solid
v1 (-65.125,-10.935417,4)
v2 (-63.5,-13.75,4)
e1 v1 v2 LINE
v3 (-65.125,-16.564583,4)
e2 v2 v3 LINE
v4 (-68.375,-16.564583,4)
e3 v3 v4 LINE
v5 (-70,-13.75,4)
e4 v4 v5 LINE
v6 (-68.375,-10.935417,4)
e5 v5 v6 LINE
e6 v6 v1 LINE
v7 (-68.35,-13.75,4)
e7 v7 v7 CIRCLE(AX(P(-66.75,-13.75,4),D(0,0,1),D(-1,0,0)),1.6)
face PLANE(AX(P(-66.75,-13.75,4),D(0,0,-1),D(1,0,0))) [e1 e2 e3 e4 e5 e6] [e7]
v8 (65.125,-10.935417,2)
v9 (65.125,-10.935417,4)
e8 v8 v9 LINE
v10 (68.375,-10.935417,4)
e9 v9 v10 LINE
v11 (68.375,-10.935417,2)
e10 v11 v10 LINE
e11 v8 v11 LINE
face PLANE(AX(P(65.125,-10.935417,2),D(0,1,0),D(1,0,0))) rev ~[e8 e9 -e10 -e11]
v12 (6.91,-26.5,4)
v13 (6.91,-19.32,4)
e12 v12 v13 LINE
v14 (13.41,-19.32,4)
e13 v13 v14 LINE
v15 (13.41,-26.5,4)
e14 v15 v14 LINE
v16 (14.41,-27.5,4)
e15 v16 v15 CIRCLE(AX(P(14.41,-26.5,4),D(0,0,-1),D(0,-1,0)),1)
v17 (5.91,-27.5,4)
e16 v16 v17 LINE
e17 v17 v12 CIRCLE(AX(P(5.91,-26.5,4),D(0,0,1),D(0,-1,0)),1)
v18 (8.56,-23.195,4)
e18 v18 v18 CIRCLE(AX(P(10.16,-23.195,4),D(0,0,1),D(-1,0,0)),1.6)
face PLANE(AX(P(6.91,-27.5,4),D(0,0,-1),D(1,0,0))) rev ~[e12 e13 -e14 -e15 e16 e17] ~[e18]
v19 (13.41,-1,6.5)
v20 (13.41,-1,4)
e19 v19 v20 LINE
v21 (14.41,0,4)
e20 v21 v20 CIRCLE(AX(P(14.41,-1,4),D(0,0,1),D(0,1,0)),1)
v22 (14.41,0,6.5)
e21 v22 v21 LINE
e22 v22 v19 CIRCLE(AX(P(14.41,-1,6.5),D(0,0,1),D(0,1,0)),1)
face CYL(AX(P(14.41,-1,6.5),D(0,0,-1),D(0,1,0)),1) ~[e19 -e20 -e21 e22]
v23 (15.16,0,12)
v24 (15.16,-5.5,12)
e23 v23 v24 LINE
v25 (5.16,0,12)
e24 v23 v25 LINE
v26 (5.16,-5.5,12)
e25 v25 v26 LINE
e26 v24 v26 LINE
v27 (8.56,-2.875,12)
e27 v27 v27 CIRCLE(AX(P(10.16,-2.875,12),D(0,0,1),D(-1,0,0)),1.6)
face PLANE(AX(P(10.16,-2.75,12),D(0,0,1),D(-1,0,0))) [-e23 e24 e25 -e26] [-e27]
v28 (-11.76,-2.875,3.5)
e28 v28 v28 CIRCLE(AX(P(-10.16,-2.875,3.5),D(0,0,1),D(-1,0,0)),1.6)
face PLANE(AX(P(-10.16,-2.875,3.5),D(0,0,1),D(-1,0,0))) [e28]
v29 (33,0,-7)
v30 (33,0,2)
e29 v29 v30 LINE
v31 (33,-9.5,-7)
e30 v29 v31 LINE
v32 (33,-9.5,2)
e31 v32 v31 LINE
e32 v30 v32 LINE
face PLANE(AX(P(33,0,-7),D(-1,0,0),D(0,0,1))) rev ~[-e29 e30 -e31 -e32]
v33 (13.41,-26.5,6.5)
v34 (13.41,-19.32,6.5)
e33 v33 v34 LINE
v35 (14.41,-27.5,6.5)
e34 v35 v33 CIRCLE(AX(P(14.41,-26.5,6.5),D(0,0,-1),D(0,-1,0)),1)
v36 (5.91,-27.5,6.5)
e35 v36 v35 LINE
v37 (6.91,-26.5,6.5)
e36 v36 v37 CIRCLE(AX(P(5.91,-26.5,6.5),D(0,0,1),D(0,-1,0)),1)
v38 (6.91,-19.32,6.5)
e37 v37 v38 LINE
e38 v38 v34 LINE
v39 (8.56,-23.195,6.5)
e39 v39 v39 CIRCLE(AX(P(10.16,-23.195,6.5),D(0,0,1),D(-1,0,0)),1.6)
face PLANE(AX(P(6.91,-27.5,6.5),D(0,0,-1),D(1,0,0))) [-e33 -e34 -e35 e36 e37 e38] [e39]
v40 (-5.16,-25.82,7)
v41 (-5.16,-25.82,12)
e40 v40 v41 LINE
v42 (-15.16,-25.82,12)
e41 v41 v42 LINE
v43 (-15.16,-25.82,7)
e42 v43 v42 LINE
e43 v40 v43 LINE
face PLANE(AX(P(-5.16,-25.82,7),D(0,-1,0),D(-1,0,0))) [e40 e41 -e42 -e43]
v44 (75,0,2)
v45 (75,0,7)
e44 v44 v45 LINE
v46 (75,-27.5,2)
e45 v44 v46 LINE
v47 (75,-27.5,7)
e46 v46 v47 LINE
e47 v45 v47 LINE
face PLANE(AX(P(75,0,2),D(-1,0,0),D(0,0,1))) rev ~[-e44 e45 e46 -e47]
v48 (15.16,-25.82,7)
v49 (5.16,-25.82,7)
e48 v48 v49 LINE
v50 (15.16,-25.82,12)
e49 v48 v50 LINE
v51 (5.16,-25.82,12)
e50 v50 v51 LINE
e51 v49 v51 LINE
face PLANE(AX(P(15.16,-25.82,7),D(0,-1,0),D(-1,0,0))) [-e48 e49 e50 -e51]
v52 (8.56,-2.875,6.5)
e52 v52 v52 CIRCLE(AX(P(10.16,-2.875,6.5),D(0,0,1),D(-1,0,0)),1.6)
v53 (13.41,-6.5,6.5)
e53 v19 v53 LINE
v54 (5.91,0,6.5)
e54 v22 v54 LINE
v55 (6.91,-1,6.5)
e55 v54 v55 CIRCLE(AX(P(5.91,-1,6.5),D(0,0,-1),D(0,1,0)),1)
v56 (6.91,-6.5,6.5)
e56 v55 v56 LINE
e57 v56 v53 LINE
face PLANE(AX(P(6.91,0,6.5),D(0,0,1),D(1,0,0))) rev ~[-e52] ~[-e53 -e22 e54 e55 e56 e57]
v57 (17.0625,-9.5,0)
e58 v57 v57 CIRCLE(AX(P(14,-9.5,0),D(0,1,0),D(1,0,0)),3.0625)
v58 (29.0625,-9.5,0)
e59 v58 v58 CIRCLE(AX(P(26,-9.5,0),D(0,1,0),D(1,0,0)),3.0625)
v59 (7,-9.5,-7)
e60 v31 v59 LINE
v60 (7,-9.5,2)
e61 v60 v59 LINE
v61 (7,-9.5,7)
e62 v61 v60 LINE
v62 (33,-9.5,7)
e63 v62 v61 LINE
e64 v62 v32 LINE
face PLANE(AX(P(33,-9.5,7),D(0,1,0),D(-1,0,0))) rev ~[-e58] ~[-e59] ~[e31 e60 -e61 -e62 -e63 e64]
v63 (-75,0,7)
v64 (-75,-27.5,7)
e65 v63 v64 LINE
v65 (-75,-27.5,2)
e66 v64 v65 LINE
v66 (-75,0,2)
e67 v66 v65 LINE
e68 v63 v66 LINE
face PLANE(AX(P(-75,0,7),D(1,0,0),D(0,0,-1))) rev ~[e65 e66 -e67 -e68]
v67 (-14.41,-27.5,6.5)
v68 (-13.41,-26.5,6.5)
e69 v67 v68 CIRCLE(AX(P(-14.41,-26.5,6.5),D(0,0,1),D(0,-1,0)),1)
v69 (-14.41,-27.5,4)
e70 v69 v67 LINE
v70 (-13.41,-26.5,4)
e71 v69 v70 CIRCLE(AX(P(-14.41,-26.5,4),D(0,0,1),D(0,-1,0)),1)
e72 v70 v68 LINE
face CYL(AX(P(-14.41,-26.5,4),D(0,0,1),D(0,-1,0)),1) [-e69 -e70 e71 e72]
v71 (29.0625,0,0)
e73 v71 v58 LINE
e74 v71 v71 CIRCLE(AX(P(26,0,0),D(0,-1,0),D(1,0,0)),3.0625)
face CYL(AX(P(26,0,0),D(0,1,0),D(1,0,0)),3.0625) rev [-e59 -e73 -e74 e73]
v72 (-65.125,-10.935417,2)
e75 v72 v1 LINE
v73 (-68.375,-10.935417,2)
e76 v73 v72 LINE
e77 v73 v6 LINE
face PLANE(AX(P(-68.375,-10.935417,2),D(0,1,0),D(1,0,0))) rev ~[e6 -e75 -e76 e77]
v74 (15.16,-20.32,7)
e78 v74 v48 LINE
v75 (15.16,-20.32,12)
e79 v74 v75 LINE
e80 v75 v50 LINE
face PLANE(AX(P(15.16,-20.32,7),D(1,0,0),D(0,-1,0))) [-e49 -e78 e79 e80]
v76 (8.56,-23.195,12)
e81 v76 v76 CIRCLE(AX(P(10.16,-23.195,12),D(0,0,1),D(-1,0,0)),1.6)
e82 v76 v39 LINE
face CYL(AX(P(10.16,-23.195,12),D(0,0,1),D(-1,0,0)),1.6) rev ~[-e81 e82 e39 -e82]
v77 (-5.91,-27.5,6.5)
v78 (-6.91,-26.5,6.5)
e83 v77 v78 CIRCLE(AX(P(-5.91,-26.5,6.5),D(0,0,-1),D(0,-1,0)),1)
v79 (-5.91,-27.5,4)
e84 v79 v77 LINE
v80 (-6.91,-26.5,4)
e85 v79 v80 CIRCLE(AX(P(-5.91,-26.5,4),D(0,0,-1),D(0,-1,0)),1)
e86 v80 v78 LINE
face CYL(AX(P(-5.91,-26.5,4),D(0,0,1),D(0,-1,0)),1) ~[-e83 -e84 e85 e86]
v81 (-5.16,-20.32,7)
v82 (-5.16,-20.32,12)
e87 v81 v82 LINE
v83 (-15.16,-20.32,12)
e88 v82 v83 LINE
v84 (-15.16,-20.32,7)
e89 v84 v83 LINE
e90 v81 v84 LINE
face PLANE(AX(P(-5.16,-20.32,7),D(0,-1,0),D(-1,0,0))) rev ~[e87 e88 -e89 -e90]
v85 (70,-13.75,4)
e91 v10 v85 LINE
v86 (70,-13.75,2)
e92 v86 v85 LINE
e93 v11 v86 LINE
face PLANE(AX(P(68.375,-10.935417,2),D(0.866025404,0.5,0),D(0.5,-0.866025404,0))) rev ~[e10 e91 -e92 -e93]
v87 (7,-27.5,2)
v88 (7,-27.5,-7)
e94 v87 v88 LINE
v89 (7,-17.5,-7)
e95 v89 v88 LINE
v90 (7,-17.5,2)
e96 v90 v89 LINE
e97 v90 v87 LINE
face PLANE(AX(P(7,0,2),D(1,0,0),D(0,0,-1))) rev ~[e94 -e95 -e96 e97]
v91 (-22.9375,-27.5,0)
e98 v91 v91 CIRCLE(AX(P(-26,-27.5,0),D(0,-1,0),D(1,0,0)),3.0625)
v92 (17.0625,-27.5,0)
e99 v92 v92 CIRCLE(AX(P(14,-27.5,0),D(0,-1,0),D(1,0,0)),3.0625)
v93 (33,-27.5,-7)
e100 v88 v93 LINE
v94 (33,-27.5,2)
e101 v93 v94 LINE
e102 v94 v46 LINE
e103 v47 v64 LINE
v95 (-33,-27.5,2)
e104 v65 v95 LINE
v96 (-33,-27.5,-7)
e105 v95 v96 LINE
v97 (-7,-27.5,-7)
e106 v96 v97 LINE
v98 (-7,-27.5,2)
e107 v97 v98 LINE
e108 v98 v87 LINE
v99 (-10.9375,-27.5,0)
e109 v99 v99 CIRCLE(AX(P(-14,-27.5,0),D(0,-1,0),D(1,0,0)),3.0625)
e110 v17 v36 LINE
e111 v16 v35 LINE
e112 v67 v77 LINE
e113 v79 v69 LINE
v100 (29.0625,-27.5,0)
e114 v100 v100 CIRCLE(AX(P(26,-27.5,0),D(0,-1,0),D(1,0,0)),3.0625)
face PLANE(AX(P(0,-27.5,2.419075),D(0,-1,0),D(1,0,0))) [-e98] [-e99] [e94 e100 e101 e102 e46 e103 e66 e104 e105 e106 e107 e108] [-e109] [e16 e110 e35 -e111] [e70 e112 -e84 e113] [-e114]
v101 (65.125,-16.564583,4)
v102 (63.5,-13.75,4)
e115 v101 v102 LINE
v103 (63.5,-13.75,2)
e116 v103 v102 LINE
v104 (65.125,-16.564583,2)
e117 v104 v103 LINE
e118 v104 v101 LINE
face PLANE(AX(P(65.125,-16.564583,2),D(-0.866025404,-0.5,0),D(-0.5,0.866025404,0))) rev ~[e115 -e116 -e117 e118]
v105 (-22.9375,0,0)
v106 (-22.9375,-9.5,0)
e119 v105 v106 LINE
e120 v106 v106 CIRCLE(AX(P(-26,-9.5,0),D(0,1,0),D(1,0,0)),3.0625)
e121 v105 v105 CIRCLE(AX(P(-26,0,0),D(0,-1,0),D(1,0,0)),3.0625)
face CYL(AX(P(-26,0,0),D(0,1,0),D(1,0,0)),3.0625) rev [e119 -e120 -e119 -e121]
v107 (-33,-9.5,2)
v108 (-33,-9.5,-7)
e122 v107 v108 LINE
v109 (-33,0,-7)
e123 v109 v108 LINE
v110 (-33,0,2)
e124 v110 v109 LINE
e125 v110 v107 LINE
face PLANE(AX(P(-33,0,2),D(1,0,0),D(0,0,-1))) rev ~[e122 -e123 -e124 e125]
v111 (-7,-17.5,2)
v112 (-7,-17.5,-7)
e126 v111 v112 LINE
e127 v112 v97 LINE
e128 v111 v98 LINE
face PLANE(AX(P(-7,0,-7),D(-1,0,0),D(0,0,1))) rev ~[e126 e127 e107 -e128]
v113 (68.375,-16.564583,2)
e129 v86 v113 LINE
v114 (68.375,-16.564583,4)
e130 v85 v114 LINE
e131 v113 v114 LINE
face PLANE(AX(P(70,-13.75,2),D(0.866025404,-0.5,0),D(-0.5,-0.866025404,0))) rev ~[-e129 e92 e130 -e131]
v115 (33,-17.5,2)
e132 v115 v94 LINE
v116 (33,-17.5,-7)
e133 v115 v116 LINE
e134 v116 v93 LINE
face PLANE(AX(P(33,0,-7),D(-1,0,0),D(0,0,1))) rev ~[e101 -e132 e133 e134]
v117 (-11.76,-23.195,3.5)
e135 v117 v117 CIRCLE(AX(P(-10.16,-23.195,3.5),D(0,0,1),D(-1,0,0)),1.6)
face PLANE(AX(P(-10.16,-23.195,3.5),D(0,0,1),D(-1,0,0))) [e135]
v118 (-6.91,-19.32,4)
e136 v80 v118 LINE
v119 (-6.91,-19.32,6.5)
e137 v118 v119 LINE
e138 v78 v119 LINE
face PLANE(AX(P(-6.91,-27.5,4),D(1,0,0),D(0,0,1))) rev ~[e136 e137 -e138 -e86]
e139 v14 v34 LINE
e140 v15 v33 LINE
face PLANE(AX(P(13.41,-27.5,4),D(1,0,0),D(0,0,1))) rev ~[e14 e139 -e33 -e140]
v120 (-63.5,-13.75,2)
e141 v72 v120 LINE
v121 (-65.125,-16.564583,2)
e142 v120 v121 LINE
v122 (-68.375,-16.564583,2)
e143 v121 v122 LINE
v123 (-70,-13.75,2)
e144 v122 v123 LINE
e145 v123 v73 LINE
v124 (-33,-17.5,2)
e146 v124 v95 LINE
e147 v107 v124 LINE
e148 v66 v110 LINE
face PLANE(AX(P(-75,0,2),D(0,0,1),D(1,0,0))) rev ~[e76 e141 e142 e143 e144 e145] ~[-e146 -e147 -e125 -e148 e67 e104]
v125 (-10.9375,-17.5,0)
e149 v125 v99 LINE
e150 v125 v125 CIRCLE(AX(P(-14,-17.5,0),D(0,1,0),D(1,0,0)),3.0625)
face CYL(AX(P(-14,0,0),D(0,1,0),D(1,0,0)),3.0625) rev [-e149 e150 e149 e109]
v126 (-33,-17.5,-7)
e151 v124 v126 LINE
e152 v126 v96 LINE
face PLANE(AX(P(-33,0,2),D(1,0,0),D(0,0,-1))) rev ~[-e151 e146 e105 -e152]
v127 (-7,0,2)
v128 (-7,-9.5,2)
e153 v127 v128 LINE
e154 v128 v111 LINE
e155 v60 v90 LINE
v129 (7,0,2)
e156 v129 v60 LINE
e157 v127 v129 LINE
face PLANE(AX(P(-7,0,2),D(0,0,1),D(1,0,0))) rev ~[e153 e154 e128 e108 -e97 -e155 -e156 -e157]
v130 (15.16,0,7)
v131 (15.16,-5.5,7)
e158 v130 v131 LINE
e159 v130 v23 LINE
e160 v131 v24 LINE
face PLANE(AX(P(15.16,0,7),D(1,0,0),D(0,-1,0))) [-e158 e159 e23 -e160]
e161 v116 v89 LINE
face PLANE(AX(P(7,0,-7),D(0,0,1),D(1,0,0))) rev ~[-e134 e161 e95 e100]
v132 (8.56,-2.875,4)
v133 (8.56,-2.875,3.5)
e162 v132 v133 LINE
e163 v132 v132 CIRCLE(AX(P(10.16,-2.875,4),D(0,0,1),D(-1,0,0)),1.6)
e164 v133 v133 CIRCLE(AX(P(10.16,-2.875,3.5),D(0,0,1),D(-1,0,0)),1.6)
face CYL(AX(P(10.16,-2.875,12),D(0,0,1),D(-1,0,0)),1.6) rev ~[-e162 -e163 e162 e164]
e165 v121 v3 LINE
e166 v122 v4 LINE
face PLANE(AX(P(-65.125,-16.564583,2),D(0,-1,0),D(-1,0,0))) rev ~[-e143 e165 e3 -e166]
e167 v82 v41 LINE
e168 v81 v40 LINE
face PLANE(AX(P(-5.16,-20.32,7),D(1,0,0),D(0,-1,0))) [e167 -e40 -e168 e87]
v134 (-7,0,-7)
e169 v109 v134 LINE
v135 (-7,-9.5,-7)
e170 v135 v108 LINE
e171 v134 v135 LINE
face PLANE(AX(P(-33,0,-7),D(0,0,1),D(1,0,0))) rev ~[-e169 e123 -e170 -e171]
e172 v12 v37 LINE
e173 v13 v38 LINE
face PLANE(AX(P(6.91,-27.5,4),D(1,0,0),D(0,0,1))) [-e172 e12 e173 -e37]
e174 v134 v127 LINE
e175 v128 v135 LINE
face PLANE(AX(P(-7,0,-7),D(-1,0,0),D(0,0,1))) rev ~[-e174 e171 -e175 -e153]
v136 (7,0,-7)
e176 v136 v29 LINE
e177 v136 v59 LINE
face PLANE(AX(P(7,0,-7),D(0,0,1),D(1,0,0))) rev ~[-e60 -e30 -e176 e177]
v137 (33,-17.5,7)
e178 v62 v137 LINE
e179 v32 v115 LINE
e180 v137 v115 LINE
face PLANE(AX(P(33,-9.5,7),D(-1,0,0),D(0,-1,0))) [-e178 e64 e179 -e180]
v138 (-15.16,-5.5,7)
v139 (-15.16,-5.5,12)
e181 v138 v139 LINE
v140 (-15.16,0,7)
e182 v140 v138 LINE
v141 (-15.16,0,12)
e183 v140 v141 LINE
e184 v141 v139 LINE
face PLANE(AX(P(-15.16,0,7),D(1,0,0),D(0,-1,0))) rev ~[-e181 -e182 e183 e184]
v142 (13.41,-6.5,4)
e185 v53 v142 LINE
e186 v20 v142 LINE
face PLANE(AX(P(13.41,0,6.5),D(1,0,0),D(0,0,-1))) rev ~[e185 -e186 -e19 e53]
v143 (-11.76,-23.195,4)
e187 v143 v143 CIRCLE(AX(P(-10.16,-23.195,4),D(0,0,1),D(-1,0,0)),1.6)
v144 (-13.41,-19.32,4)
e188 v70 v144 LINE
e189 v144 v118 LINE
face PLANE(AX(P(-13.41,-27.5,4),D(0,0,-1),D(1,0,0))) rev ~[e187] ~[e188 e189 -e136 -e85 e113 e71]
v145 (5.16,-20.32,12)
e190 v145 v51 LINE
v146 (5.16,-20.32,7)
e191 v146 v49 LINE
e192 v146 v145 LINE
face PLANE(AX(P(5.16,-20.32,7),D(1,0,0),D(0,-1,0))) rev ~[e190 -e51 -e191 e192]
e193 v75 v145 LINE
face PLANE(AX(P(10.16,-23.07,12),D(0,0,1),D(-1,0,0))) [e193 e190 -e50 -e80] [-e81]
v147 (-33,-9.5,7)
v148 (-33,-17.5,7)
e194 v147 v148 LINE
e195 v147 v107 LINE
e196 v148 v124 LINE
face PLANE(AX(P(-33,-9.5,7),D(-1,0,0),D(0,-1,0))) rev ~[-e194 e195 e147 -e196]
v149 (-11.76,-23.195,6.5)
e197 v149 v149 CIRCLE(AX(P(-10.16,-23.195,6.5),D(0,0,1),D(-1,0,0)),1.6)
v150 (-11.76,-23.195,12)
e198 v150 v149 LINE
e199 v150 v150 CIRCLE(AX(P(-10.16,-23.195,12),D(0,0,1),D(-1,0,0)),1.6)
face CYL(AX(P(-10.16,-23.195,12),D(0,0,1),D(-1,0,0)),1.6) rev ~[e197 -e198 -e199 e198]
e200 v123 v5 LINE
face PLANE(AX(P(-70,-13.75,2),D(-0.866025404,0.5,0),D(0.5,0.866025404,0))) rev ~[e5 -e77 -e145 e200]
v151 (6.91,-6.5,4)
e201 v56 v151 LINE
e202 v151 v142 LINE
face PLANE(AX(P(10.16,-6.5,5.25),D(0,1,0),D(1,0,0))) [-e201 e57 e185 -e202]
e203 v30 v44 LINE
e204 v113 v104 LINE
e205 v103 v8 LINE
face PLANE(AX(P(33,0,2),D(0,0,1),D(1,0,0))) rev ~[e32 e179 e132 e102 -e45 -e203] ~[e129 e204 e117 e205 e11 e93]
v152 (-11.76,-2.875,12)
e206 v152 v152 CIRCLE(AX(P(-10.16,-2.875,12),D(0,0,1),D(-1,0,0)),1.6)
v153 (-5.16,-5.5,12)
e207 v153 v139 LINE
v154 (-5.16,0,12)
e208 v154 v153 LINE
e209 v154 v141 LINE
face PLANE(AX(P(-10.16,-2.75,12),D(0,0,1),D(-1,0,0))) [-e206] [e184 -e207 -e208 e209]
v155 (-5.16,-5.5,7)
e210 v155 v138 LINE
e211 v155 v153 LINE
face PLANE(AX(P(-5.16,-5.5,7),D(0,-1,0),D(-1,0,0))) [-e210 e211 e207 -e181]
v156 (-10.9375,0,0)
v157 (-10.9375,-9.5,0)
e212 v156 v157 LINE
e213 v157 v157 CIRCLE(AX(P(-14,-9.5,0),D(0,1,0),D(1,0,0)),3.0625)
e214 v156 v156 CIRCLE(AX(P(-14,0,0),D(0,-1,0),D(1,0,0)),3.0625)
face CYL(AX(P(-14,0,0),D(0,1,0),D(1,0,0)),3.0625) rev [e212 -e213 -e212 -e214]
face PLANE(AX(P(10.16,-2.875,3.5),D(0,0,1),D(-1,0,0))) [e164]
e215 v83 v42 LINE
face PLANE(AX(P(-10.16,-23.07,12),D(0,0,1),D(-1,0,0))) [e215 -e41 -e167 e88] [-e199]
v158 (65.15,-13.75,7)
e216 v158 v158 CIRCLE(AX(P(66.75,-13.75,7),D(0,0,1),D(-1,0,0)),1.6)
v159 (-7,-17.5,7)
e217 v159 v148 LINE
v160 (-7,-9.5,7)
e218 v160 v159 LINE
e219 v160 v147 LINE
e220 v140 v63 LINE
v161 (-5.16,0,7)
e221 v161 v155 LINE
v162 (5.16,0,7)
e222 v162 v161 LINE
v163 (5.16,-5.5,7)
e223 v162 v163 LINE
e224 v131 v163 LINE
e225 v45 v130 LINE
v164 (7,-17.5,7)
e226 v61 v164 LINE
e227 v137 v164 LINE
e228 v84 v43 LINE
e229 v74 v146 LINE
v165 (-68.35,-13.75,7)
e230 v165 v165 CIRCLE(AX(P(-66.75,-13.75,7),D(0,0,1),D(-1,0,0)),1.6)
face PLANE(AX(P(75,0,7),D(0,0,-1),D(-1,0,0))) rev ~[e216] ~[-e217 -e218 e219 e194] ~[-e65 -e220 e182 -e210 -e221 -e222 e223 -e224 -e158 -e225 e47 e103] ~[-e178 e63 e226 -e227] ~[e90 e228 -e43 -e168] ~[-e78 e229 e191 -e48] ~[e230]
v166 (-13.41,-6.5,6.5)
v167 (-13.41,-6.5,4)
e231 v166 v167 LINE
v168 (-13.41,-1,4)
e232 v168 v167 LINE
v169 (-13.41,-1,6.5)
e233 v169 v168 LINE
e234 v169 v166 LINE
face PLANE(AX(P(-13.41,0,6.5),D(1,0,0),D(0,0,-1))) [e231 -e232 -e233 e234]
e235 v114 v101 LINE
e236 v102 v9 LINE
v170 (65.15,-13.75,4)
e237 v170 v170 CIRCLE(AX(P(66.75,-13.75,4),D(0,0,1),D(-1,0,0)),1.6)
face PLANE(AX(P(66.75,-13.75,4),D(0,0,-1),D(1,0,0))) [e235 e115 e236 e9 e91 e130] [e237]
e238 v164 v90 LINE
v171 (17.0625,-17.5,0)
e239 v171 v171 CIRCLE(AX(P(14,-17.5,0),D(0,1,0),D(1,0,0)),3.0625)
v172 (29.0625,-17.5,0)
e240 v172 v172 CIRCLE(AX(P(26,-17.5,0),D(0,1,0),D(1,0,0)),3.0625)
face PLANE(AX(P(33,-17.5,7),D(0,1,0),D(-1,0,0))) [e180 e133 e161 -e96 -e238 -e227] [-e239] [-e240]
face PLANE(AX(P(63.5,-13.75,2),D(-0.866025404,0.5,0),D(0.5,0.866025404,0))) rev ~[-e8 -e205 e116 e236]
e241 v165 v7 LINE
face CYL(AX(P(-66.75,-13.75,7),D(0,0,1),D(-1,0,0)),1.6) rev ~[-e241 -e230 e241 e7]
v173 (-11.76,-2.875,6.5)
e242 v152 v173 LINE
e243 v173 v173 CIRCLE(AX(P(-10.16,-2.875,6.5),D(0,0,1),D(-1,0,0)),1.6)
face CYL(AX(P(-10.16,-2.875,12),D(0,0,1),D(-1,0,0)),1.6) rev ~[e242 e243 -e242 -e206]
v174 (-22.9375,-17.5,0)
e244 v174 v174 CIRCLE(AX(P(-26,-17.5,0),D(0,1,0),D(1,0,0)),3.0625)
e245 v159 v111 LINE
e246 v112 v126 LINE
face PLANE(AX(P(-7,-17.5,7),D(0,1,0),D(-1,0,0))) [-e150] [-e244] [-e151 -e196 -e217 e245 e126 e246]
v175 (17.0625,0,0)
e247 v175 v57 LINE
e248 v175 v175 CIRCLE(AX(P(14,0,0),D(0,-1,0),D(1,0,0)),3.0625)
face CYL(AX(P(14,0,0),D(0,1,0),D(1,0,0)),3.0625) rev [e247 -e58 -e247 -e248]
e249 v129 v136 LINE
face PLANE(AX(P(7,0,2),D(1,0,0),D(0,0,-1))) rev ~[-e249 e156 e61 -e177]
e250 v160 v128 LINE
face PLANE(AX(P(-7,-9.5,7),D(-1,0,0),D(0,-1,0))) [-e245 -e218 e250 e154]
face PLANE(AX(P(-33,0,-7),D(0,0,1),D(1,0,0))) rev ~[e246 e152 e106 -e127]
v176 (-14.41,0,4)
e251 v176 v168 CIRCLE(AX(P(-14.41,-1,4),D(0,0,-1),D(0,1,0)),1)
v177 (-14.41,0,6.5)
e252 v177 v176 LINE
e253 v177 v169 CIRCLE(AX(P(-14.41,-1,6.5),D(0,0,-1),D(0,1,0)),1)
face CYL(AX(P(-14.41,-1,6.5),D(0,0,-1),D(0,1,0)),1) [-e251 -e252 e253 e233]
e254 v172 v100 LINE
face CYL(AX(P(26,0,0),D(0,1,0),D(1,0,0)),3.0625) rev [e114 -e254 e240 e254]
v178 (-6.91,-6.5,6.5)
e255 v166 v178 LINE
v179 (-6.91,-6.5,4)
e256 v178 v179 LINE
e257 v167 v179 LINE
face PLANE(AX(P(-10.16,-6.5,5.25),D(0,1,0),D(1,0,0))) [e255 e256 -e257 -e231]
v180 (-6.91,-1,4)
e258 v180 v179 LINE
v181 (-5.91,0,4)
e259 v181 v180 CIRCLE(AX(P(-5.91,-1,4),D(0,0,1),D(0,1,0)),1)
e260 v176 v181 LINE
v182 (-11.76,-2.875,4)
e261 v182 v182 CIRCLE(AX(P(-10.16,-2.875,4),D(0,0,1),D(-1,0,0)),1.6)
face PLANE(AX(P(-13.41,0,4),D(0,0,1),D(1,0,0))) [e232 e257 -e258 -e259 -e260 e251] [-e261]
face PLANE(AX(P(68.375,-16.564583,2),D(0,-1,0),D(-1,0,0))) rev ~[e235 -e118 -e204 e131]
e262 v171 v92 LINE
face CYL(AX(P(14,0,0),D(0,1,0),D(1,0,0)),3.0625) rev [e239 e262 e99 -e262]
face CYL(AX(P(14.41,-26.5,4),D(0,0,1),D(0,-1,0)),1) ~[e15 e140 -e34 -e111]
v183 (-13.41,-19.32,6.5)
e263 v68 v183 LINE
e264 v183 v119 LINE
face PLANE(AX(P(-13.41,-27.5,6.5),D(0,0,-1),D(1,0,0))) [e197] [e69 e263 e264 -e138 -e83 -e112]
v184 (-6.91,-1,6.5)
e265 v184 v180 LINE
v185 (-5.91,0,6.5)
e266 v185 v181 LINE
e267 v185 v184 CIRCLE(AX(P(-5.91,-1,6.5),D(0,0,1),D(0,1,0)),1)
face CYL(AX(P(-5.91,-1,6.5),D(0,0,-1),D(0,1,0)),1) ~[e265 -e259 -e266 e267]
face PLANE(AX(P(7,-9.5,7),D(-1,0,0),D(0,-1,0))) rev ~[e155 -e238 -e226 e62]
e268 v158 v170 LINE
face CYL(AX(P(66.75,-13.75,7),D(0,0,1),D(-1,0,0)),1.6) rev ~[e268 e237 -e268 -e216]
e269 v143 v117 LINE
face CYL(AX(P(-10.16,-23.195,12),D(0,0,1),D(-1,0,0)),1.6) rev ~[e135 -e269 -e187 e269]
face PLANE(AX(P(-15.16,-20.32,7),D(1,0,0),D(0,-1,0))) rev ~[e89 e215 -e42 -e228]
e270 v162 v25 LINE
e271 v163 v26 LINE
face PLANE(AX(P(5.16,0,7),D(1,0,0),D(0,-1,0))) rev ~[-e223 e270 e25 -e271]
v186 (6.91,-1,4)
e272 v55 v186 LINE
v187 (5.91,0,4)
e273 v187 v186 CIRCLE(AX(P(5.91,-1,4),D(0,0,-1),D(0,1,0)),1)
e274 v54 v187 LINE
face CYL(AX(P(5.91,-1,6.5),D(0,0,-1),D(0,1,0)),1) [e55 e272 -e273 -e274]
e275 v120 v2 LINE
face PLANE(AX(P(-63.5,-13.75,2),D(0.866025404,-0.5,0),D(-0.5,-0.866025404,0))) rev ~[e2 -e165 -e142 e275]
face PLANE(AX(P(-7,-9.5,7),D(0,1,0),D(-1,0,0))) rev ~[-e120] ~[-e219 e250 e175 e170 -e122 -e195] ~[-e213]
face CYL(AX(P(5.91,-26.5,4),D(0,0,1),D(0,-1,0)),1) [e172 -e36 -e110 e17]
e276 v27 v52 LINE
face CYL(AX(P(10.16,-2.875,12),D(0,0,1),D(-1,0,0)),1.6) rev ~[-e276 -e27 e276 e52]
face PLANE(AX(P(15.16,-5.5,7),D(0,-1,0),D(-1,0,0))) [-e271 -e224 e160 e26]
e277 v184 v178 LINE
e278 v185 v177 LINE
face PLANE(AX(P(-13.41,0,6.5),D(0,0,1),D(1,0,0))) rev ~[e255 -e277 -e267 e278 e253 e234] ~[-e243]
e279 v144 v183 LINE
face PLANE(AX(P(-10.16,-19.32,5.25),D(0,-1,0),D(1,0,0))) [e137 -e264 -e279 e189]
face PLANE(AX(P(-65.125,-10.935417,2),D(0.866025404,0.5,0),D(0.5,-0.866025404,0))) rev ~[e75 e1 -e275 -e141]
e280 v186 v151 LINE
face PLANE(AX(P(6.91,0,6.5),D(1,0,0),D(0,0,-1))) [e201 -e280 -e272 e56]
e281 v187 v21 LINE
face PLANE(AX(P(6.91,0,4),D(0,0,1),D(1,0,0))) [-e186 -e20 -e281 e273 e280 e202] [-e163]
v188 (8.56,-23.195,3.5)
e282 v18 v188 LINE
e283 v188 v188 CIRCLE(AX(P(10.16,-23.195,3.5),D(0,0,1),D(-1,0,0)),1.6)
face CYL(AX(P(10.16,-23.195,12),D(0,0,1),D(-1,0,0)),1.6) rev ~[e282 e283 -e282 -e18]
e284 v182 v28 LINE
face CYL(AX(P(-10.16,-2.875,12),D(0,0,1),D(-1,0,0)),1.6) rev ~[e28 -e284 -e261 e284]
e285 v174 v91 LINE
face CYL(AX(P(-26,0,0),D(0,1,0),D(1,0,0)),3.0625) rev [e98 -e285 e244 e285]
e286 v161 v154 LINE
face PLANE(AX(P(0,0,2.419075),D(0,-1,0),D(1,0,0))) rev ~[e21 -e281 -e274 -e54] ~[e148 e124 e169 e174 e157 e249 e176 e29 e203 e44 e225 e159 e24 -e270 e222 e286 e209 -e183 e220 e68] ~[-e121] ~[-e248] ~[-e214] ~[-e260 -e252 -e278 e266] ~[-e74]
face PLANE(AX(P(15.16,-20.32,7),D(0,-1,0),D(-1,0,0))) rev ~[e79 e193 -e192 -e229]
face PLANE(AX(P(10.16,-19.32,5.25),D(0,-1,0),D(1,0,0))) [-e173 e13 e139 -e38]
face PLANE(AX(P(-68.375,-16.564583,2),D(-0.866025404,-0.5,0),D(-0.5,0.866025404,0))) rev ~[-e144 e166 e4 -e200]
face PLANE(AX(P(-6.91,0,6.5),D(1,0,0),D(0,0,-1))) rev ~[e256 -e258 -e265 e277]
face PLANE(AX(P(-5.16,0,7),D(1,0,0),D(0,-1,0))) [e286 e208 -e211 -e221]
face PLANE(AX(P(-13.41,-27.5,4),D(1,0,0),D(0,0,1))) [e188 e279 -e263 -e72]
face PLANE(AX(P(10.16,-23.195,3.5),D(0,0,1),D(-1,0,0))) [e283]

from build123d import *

# Parameters (mm, degrees)
SKETCH042_R     = 3.0625
PAD006_DEPTH    = 27.5
SKETCH043_R     = 1.6
POCKET027_DEPTH = 5
POCKET028_DEPTH = 2
SKETCH046_W     = 26
SKETCH046_H     = 8
POCKET029_DEPTH = 14
SKETCH047_W     = 10
SKETCH047_H     = 5.5
PAD007_DEPTH    = 5
SKETCH048_R     = 1.6
POCKET030_DEPTH = 8.5
SKETCH049_W     = 6.5
SKETCH049_H     = 2.5
POCKET031_DEPTH = 6.5
SKETCH050_W     = 6.5
SKETCH050_H     = 2.5
POCKET032_DEPTH = 8.18
FILLET002_R     = 1


with BuildPart() as part:
    # Sketch042 → Pad006 (new body)
    with BuildSketch(Plane.XZ):
        Polygon((33, -7), (33, 2), (75, 2), (75, 7), (-75, 7), (-75, 2), (-33, 2), (-33, -7), (-7, -7), (-7, 2), (7, 2), (7, -7), align=None)
        with Locations((-14, 0)):
            Circle(SKETCH042_R, mode=Mode.SUBTRACT)
        with Locations((14, 0)):
            Circle(SKETCH042_R, mode=Mode.SUBTRACT)
        with Locations((-26, 0)):
            Circle(SKETCH042_R, mode=Mode.SUBTRACT)
        with Locations((26, 0)):
            Circle(SKETCH042_R, mode=Mode.SUBTRACT)
    extrude(amount=PAD006_DEPTH)

    # Sketch043 (on Face4 of Pad006) → Pocket027 (cut)
    with BuildSketch(Plane(origin=(0, 0, 7), x_dir=(-1, 0, 0), z_dir=(0, 0, 1))):
        with Locations((-66.75, 13.75)):
            Circle(SKETCH043_R)
        with Locations((66.75, 13.75)):
            Circle(SKETCH043_R)
    extrude(amount=-POCKET027_DEPTH, mode=Mode.SUBTRACT)

    # Sketch045 (on Face11 of Pocket027) → Pocket028 (cut)
    with BuildSketch(Plane(origin=(0, 0, 2), x_dir=(1, 0, 0), z_dir=(0, 0, -1))):
        Polygon((-63.5, 13.75), (-65.125, 16.5645825623), (-68.375, 16.5645825623), (-70, 13.75), (-68.375, 10.9354174377), (-65.125, 10.9354174377), align=None)
        Polygon((70, 13.75), (68.375, 16.5645825623), (65.125, 16.5645825623), (63.5, 13.75), (65.125, 10.9354174377), (68.375, 10.9354174377), align=None)
    extrude(amount=-POCKET028_DEPTH, mode=Mode.SUBTRACT)

    # Sketch046 (on Face14 of Pocket028) → Pocket029 (cut)
    with BuildSketch(Plane(origin=(0, 0, 7), x_dir=(-1, 0, 0), z_dir=(0, 0, 1))):
        with Locations((-20, 13.5)):
            Rectangle(SKETCH046_W, SKETCH046_H)
        with Locations((20, 13.5)):
            Rectangle(SKETCH046_W, SKETCH046_H)
    extrude(amount=-POCKET029_DEPTH, mode=Mode.SUBTRACT)

    # Sketch047 (on Face7 of Pocket022) → Pad007 (join)
    with BuildSketch(Plane(origin=(0, 0, 7), x_dir=(-1, 0, 0), z_dir=(0, 0, 1))):
        with Locations((-10.16, 23.07)):
            Rectangle(SKETCH047_W, SKETCH047_H)
        with Locations((10.16, 23.07)):
            Rectangle(SKETCH047_W, SKETCH047_H)
        with Locations((-10.16, 2.75)):
            Rectangle(SKETCH047_W, SKETCH047_H)
        with Locations((10.16, 2.75)):
            Rectangle(SKETCH047_W, SKETCH047_H)
    extrude(amount=PAD007_DEPTH)

    # Sketch048 (on Face52 of Pad007) → Pocket030 (cut)
    with BuildSketch(Plane(origin=(0, 0, 12), x_dir=(-1, 0, 0), z_dir=(0, 0, 1))):
        with Locations((-10.16, 23.195)):
            Circle(SKETCH048_R)
        with Locations((-10.16, 2.875)):
            Circle(SKETCH048_R)
        with Locations((10.16, 23.195)):
            Circle(SKETCH048_R)
        with Locations((10.16, 2.875)):
            Circle(SKETCH048_R)
    extrude(amount=-POCKET030_DEPTH, mode=Mode.SUBTRACT)

    # Sketch049 (on Face2 of Pocket030) → Pocket031 (cut)
    with BuildSketch(Plane(origin=(0, 0, 0), x_dir=(1, 0, 0), z_dir=(0, 1, 0))):
        with Locations((-10.16, -5.25)):
            Rectangle(SKETCH049_W, SKETCH049_H)
        with Locations((10.16, -5.25)):
            Rectangle(SKETCH049_W, SKETCH049_H)
    extrude(amount=-POCKET031_DEPTH, mode=Mode.SUBTRACT)

    # Sketch050 (on Face31 of Pocket031) → Pocket032 (cut)
    with BuildSketch(Plane.XZ.offset(27.5)):
        with Locations((-10.16, 5.25)):
            Rectangle(SKETCH050_W, SKETCH050_H)
        with Locations((10.16, 5.25)):
            Rectangle(SKETCH050_W, SKETCH050_H)
    extrude(amount=-POCKET032_DEPTH, mode=Mode.SUBTRACT)

    # Fillet002
    fillet002_edges = [part.edges().sort_by_distance(p)[0] for p in [
        (-13.41, -27.5, 5.25),
        (-6.91, -27.5, 5.25),
        (6.91, -27.5, 5.25),
        (13.41, -27.5, 5.25),
        (13.41, 0, 5.25),
        (6.91, 0, 5.25),
        (-6.91, 0, 5.25),
        (-13.41, 0, 5.25),
    ]]
    fillet(fillet002_edges, radius=FILLET002_R)


solid = part.part
